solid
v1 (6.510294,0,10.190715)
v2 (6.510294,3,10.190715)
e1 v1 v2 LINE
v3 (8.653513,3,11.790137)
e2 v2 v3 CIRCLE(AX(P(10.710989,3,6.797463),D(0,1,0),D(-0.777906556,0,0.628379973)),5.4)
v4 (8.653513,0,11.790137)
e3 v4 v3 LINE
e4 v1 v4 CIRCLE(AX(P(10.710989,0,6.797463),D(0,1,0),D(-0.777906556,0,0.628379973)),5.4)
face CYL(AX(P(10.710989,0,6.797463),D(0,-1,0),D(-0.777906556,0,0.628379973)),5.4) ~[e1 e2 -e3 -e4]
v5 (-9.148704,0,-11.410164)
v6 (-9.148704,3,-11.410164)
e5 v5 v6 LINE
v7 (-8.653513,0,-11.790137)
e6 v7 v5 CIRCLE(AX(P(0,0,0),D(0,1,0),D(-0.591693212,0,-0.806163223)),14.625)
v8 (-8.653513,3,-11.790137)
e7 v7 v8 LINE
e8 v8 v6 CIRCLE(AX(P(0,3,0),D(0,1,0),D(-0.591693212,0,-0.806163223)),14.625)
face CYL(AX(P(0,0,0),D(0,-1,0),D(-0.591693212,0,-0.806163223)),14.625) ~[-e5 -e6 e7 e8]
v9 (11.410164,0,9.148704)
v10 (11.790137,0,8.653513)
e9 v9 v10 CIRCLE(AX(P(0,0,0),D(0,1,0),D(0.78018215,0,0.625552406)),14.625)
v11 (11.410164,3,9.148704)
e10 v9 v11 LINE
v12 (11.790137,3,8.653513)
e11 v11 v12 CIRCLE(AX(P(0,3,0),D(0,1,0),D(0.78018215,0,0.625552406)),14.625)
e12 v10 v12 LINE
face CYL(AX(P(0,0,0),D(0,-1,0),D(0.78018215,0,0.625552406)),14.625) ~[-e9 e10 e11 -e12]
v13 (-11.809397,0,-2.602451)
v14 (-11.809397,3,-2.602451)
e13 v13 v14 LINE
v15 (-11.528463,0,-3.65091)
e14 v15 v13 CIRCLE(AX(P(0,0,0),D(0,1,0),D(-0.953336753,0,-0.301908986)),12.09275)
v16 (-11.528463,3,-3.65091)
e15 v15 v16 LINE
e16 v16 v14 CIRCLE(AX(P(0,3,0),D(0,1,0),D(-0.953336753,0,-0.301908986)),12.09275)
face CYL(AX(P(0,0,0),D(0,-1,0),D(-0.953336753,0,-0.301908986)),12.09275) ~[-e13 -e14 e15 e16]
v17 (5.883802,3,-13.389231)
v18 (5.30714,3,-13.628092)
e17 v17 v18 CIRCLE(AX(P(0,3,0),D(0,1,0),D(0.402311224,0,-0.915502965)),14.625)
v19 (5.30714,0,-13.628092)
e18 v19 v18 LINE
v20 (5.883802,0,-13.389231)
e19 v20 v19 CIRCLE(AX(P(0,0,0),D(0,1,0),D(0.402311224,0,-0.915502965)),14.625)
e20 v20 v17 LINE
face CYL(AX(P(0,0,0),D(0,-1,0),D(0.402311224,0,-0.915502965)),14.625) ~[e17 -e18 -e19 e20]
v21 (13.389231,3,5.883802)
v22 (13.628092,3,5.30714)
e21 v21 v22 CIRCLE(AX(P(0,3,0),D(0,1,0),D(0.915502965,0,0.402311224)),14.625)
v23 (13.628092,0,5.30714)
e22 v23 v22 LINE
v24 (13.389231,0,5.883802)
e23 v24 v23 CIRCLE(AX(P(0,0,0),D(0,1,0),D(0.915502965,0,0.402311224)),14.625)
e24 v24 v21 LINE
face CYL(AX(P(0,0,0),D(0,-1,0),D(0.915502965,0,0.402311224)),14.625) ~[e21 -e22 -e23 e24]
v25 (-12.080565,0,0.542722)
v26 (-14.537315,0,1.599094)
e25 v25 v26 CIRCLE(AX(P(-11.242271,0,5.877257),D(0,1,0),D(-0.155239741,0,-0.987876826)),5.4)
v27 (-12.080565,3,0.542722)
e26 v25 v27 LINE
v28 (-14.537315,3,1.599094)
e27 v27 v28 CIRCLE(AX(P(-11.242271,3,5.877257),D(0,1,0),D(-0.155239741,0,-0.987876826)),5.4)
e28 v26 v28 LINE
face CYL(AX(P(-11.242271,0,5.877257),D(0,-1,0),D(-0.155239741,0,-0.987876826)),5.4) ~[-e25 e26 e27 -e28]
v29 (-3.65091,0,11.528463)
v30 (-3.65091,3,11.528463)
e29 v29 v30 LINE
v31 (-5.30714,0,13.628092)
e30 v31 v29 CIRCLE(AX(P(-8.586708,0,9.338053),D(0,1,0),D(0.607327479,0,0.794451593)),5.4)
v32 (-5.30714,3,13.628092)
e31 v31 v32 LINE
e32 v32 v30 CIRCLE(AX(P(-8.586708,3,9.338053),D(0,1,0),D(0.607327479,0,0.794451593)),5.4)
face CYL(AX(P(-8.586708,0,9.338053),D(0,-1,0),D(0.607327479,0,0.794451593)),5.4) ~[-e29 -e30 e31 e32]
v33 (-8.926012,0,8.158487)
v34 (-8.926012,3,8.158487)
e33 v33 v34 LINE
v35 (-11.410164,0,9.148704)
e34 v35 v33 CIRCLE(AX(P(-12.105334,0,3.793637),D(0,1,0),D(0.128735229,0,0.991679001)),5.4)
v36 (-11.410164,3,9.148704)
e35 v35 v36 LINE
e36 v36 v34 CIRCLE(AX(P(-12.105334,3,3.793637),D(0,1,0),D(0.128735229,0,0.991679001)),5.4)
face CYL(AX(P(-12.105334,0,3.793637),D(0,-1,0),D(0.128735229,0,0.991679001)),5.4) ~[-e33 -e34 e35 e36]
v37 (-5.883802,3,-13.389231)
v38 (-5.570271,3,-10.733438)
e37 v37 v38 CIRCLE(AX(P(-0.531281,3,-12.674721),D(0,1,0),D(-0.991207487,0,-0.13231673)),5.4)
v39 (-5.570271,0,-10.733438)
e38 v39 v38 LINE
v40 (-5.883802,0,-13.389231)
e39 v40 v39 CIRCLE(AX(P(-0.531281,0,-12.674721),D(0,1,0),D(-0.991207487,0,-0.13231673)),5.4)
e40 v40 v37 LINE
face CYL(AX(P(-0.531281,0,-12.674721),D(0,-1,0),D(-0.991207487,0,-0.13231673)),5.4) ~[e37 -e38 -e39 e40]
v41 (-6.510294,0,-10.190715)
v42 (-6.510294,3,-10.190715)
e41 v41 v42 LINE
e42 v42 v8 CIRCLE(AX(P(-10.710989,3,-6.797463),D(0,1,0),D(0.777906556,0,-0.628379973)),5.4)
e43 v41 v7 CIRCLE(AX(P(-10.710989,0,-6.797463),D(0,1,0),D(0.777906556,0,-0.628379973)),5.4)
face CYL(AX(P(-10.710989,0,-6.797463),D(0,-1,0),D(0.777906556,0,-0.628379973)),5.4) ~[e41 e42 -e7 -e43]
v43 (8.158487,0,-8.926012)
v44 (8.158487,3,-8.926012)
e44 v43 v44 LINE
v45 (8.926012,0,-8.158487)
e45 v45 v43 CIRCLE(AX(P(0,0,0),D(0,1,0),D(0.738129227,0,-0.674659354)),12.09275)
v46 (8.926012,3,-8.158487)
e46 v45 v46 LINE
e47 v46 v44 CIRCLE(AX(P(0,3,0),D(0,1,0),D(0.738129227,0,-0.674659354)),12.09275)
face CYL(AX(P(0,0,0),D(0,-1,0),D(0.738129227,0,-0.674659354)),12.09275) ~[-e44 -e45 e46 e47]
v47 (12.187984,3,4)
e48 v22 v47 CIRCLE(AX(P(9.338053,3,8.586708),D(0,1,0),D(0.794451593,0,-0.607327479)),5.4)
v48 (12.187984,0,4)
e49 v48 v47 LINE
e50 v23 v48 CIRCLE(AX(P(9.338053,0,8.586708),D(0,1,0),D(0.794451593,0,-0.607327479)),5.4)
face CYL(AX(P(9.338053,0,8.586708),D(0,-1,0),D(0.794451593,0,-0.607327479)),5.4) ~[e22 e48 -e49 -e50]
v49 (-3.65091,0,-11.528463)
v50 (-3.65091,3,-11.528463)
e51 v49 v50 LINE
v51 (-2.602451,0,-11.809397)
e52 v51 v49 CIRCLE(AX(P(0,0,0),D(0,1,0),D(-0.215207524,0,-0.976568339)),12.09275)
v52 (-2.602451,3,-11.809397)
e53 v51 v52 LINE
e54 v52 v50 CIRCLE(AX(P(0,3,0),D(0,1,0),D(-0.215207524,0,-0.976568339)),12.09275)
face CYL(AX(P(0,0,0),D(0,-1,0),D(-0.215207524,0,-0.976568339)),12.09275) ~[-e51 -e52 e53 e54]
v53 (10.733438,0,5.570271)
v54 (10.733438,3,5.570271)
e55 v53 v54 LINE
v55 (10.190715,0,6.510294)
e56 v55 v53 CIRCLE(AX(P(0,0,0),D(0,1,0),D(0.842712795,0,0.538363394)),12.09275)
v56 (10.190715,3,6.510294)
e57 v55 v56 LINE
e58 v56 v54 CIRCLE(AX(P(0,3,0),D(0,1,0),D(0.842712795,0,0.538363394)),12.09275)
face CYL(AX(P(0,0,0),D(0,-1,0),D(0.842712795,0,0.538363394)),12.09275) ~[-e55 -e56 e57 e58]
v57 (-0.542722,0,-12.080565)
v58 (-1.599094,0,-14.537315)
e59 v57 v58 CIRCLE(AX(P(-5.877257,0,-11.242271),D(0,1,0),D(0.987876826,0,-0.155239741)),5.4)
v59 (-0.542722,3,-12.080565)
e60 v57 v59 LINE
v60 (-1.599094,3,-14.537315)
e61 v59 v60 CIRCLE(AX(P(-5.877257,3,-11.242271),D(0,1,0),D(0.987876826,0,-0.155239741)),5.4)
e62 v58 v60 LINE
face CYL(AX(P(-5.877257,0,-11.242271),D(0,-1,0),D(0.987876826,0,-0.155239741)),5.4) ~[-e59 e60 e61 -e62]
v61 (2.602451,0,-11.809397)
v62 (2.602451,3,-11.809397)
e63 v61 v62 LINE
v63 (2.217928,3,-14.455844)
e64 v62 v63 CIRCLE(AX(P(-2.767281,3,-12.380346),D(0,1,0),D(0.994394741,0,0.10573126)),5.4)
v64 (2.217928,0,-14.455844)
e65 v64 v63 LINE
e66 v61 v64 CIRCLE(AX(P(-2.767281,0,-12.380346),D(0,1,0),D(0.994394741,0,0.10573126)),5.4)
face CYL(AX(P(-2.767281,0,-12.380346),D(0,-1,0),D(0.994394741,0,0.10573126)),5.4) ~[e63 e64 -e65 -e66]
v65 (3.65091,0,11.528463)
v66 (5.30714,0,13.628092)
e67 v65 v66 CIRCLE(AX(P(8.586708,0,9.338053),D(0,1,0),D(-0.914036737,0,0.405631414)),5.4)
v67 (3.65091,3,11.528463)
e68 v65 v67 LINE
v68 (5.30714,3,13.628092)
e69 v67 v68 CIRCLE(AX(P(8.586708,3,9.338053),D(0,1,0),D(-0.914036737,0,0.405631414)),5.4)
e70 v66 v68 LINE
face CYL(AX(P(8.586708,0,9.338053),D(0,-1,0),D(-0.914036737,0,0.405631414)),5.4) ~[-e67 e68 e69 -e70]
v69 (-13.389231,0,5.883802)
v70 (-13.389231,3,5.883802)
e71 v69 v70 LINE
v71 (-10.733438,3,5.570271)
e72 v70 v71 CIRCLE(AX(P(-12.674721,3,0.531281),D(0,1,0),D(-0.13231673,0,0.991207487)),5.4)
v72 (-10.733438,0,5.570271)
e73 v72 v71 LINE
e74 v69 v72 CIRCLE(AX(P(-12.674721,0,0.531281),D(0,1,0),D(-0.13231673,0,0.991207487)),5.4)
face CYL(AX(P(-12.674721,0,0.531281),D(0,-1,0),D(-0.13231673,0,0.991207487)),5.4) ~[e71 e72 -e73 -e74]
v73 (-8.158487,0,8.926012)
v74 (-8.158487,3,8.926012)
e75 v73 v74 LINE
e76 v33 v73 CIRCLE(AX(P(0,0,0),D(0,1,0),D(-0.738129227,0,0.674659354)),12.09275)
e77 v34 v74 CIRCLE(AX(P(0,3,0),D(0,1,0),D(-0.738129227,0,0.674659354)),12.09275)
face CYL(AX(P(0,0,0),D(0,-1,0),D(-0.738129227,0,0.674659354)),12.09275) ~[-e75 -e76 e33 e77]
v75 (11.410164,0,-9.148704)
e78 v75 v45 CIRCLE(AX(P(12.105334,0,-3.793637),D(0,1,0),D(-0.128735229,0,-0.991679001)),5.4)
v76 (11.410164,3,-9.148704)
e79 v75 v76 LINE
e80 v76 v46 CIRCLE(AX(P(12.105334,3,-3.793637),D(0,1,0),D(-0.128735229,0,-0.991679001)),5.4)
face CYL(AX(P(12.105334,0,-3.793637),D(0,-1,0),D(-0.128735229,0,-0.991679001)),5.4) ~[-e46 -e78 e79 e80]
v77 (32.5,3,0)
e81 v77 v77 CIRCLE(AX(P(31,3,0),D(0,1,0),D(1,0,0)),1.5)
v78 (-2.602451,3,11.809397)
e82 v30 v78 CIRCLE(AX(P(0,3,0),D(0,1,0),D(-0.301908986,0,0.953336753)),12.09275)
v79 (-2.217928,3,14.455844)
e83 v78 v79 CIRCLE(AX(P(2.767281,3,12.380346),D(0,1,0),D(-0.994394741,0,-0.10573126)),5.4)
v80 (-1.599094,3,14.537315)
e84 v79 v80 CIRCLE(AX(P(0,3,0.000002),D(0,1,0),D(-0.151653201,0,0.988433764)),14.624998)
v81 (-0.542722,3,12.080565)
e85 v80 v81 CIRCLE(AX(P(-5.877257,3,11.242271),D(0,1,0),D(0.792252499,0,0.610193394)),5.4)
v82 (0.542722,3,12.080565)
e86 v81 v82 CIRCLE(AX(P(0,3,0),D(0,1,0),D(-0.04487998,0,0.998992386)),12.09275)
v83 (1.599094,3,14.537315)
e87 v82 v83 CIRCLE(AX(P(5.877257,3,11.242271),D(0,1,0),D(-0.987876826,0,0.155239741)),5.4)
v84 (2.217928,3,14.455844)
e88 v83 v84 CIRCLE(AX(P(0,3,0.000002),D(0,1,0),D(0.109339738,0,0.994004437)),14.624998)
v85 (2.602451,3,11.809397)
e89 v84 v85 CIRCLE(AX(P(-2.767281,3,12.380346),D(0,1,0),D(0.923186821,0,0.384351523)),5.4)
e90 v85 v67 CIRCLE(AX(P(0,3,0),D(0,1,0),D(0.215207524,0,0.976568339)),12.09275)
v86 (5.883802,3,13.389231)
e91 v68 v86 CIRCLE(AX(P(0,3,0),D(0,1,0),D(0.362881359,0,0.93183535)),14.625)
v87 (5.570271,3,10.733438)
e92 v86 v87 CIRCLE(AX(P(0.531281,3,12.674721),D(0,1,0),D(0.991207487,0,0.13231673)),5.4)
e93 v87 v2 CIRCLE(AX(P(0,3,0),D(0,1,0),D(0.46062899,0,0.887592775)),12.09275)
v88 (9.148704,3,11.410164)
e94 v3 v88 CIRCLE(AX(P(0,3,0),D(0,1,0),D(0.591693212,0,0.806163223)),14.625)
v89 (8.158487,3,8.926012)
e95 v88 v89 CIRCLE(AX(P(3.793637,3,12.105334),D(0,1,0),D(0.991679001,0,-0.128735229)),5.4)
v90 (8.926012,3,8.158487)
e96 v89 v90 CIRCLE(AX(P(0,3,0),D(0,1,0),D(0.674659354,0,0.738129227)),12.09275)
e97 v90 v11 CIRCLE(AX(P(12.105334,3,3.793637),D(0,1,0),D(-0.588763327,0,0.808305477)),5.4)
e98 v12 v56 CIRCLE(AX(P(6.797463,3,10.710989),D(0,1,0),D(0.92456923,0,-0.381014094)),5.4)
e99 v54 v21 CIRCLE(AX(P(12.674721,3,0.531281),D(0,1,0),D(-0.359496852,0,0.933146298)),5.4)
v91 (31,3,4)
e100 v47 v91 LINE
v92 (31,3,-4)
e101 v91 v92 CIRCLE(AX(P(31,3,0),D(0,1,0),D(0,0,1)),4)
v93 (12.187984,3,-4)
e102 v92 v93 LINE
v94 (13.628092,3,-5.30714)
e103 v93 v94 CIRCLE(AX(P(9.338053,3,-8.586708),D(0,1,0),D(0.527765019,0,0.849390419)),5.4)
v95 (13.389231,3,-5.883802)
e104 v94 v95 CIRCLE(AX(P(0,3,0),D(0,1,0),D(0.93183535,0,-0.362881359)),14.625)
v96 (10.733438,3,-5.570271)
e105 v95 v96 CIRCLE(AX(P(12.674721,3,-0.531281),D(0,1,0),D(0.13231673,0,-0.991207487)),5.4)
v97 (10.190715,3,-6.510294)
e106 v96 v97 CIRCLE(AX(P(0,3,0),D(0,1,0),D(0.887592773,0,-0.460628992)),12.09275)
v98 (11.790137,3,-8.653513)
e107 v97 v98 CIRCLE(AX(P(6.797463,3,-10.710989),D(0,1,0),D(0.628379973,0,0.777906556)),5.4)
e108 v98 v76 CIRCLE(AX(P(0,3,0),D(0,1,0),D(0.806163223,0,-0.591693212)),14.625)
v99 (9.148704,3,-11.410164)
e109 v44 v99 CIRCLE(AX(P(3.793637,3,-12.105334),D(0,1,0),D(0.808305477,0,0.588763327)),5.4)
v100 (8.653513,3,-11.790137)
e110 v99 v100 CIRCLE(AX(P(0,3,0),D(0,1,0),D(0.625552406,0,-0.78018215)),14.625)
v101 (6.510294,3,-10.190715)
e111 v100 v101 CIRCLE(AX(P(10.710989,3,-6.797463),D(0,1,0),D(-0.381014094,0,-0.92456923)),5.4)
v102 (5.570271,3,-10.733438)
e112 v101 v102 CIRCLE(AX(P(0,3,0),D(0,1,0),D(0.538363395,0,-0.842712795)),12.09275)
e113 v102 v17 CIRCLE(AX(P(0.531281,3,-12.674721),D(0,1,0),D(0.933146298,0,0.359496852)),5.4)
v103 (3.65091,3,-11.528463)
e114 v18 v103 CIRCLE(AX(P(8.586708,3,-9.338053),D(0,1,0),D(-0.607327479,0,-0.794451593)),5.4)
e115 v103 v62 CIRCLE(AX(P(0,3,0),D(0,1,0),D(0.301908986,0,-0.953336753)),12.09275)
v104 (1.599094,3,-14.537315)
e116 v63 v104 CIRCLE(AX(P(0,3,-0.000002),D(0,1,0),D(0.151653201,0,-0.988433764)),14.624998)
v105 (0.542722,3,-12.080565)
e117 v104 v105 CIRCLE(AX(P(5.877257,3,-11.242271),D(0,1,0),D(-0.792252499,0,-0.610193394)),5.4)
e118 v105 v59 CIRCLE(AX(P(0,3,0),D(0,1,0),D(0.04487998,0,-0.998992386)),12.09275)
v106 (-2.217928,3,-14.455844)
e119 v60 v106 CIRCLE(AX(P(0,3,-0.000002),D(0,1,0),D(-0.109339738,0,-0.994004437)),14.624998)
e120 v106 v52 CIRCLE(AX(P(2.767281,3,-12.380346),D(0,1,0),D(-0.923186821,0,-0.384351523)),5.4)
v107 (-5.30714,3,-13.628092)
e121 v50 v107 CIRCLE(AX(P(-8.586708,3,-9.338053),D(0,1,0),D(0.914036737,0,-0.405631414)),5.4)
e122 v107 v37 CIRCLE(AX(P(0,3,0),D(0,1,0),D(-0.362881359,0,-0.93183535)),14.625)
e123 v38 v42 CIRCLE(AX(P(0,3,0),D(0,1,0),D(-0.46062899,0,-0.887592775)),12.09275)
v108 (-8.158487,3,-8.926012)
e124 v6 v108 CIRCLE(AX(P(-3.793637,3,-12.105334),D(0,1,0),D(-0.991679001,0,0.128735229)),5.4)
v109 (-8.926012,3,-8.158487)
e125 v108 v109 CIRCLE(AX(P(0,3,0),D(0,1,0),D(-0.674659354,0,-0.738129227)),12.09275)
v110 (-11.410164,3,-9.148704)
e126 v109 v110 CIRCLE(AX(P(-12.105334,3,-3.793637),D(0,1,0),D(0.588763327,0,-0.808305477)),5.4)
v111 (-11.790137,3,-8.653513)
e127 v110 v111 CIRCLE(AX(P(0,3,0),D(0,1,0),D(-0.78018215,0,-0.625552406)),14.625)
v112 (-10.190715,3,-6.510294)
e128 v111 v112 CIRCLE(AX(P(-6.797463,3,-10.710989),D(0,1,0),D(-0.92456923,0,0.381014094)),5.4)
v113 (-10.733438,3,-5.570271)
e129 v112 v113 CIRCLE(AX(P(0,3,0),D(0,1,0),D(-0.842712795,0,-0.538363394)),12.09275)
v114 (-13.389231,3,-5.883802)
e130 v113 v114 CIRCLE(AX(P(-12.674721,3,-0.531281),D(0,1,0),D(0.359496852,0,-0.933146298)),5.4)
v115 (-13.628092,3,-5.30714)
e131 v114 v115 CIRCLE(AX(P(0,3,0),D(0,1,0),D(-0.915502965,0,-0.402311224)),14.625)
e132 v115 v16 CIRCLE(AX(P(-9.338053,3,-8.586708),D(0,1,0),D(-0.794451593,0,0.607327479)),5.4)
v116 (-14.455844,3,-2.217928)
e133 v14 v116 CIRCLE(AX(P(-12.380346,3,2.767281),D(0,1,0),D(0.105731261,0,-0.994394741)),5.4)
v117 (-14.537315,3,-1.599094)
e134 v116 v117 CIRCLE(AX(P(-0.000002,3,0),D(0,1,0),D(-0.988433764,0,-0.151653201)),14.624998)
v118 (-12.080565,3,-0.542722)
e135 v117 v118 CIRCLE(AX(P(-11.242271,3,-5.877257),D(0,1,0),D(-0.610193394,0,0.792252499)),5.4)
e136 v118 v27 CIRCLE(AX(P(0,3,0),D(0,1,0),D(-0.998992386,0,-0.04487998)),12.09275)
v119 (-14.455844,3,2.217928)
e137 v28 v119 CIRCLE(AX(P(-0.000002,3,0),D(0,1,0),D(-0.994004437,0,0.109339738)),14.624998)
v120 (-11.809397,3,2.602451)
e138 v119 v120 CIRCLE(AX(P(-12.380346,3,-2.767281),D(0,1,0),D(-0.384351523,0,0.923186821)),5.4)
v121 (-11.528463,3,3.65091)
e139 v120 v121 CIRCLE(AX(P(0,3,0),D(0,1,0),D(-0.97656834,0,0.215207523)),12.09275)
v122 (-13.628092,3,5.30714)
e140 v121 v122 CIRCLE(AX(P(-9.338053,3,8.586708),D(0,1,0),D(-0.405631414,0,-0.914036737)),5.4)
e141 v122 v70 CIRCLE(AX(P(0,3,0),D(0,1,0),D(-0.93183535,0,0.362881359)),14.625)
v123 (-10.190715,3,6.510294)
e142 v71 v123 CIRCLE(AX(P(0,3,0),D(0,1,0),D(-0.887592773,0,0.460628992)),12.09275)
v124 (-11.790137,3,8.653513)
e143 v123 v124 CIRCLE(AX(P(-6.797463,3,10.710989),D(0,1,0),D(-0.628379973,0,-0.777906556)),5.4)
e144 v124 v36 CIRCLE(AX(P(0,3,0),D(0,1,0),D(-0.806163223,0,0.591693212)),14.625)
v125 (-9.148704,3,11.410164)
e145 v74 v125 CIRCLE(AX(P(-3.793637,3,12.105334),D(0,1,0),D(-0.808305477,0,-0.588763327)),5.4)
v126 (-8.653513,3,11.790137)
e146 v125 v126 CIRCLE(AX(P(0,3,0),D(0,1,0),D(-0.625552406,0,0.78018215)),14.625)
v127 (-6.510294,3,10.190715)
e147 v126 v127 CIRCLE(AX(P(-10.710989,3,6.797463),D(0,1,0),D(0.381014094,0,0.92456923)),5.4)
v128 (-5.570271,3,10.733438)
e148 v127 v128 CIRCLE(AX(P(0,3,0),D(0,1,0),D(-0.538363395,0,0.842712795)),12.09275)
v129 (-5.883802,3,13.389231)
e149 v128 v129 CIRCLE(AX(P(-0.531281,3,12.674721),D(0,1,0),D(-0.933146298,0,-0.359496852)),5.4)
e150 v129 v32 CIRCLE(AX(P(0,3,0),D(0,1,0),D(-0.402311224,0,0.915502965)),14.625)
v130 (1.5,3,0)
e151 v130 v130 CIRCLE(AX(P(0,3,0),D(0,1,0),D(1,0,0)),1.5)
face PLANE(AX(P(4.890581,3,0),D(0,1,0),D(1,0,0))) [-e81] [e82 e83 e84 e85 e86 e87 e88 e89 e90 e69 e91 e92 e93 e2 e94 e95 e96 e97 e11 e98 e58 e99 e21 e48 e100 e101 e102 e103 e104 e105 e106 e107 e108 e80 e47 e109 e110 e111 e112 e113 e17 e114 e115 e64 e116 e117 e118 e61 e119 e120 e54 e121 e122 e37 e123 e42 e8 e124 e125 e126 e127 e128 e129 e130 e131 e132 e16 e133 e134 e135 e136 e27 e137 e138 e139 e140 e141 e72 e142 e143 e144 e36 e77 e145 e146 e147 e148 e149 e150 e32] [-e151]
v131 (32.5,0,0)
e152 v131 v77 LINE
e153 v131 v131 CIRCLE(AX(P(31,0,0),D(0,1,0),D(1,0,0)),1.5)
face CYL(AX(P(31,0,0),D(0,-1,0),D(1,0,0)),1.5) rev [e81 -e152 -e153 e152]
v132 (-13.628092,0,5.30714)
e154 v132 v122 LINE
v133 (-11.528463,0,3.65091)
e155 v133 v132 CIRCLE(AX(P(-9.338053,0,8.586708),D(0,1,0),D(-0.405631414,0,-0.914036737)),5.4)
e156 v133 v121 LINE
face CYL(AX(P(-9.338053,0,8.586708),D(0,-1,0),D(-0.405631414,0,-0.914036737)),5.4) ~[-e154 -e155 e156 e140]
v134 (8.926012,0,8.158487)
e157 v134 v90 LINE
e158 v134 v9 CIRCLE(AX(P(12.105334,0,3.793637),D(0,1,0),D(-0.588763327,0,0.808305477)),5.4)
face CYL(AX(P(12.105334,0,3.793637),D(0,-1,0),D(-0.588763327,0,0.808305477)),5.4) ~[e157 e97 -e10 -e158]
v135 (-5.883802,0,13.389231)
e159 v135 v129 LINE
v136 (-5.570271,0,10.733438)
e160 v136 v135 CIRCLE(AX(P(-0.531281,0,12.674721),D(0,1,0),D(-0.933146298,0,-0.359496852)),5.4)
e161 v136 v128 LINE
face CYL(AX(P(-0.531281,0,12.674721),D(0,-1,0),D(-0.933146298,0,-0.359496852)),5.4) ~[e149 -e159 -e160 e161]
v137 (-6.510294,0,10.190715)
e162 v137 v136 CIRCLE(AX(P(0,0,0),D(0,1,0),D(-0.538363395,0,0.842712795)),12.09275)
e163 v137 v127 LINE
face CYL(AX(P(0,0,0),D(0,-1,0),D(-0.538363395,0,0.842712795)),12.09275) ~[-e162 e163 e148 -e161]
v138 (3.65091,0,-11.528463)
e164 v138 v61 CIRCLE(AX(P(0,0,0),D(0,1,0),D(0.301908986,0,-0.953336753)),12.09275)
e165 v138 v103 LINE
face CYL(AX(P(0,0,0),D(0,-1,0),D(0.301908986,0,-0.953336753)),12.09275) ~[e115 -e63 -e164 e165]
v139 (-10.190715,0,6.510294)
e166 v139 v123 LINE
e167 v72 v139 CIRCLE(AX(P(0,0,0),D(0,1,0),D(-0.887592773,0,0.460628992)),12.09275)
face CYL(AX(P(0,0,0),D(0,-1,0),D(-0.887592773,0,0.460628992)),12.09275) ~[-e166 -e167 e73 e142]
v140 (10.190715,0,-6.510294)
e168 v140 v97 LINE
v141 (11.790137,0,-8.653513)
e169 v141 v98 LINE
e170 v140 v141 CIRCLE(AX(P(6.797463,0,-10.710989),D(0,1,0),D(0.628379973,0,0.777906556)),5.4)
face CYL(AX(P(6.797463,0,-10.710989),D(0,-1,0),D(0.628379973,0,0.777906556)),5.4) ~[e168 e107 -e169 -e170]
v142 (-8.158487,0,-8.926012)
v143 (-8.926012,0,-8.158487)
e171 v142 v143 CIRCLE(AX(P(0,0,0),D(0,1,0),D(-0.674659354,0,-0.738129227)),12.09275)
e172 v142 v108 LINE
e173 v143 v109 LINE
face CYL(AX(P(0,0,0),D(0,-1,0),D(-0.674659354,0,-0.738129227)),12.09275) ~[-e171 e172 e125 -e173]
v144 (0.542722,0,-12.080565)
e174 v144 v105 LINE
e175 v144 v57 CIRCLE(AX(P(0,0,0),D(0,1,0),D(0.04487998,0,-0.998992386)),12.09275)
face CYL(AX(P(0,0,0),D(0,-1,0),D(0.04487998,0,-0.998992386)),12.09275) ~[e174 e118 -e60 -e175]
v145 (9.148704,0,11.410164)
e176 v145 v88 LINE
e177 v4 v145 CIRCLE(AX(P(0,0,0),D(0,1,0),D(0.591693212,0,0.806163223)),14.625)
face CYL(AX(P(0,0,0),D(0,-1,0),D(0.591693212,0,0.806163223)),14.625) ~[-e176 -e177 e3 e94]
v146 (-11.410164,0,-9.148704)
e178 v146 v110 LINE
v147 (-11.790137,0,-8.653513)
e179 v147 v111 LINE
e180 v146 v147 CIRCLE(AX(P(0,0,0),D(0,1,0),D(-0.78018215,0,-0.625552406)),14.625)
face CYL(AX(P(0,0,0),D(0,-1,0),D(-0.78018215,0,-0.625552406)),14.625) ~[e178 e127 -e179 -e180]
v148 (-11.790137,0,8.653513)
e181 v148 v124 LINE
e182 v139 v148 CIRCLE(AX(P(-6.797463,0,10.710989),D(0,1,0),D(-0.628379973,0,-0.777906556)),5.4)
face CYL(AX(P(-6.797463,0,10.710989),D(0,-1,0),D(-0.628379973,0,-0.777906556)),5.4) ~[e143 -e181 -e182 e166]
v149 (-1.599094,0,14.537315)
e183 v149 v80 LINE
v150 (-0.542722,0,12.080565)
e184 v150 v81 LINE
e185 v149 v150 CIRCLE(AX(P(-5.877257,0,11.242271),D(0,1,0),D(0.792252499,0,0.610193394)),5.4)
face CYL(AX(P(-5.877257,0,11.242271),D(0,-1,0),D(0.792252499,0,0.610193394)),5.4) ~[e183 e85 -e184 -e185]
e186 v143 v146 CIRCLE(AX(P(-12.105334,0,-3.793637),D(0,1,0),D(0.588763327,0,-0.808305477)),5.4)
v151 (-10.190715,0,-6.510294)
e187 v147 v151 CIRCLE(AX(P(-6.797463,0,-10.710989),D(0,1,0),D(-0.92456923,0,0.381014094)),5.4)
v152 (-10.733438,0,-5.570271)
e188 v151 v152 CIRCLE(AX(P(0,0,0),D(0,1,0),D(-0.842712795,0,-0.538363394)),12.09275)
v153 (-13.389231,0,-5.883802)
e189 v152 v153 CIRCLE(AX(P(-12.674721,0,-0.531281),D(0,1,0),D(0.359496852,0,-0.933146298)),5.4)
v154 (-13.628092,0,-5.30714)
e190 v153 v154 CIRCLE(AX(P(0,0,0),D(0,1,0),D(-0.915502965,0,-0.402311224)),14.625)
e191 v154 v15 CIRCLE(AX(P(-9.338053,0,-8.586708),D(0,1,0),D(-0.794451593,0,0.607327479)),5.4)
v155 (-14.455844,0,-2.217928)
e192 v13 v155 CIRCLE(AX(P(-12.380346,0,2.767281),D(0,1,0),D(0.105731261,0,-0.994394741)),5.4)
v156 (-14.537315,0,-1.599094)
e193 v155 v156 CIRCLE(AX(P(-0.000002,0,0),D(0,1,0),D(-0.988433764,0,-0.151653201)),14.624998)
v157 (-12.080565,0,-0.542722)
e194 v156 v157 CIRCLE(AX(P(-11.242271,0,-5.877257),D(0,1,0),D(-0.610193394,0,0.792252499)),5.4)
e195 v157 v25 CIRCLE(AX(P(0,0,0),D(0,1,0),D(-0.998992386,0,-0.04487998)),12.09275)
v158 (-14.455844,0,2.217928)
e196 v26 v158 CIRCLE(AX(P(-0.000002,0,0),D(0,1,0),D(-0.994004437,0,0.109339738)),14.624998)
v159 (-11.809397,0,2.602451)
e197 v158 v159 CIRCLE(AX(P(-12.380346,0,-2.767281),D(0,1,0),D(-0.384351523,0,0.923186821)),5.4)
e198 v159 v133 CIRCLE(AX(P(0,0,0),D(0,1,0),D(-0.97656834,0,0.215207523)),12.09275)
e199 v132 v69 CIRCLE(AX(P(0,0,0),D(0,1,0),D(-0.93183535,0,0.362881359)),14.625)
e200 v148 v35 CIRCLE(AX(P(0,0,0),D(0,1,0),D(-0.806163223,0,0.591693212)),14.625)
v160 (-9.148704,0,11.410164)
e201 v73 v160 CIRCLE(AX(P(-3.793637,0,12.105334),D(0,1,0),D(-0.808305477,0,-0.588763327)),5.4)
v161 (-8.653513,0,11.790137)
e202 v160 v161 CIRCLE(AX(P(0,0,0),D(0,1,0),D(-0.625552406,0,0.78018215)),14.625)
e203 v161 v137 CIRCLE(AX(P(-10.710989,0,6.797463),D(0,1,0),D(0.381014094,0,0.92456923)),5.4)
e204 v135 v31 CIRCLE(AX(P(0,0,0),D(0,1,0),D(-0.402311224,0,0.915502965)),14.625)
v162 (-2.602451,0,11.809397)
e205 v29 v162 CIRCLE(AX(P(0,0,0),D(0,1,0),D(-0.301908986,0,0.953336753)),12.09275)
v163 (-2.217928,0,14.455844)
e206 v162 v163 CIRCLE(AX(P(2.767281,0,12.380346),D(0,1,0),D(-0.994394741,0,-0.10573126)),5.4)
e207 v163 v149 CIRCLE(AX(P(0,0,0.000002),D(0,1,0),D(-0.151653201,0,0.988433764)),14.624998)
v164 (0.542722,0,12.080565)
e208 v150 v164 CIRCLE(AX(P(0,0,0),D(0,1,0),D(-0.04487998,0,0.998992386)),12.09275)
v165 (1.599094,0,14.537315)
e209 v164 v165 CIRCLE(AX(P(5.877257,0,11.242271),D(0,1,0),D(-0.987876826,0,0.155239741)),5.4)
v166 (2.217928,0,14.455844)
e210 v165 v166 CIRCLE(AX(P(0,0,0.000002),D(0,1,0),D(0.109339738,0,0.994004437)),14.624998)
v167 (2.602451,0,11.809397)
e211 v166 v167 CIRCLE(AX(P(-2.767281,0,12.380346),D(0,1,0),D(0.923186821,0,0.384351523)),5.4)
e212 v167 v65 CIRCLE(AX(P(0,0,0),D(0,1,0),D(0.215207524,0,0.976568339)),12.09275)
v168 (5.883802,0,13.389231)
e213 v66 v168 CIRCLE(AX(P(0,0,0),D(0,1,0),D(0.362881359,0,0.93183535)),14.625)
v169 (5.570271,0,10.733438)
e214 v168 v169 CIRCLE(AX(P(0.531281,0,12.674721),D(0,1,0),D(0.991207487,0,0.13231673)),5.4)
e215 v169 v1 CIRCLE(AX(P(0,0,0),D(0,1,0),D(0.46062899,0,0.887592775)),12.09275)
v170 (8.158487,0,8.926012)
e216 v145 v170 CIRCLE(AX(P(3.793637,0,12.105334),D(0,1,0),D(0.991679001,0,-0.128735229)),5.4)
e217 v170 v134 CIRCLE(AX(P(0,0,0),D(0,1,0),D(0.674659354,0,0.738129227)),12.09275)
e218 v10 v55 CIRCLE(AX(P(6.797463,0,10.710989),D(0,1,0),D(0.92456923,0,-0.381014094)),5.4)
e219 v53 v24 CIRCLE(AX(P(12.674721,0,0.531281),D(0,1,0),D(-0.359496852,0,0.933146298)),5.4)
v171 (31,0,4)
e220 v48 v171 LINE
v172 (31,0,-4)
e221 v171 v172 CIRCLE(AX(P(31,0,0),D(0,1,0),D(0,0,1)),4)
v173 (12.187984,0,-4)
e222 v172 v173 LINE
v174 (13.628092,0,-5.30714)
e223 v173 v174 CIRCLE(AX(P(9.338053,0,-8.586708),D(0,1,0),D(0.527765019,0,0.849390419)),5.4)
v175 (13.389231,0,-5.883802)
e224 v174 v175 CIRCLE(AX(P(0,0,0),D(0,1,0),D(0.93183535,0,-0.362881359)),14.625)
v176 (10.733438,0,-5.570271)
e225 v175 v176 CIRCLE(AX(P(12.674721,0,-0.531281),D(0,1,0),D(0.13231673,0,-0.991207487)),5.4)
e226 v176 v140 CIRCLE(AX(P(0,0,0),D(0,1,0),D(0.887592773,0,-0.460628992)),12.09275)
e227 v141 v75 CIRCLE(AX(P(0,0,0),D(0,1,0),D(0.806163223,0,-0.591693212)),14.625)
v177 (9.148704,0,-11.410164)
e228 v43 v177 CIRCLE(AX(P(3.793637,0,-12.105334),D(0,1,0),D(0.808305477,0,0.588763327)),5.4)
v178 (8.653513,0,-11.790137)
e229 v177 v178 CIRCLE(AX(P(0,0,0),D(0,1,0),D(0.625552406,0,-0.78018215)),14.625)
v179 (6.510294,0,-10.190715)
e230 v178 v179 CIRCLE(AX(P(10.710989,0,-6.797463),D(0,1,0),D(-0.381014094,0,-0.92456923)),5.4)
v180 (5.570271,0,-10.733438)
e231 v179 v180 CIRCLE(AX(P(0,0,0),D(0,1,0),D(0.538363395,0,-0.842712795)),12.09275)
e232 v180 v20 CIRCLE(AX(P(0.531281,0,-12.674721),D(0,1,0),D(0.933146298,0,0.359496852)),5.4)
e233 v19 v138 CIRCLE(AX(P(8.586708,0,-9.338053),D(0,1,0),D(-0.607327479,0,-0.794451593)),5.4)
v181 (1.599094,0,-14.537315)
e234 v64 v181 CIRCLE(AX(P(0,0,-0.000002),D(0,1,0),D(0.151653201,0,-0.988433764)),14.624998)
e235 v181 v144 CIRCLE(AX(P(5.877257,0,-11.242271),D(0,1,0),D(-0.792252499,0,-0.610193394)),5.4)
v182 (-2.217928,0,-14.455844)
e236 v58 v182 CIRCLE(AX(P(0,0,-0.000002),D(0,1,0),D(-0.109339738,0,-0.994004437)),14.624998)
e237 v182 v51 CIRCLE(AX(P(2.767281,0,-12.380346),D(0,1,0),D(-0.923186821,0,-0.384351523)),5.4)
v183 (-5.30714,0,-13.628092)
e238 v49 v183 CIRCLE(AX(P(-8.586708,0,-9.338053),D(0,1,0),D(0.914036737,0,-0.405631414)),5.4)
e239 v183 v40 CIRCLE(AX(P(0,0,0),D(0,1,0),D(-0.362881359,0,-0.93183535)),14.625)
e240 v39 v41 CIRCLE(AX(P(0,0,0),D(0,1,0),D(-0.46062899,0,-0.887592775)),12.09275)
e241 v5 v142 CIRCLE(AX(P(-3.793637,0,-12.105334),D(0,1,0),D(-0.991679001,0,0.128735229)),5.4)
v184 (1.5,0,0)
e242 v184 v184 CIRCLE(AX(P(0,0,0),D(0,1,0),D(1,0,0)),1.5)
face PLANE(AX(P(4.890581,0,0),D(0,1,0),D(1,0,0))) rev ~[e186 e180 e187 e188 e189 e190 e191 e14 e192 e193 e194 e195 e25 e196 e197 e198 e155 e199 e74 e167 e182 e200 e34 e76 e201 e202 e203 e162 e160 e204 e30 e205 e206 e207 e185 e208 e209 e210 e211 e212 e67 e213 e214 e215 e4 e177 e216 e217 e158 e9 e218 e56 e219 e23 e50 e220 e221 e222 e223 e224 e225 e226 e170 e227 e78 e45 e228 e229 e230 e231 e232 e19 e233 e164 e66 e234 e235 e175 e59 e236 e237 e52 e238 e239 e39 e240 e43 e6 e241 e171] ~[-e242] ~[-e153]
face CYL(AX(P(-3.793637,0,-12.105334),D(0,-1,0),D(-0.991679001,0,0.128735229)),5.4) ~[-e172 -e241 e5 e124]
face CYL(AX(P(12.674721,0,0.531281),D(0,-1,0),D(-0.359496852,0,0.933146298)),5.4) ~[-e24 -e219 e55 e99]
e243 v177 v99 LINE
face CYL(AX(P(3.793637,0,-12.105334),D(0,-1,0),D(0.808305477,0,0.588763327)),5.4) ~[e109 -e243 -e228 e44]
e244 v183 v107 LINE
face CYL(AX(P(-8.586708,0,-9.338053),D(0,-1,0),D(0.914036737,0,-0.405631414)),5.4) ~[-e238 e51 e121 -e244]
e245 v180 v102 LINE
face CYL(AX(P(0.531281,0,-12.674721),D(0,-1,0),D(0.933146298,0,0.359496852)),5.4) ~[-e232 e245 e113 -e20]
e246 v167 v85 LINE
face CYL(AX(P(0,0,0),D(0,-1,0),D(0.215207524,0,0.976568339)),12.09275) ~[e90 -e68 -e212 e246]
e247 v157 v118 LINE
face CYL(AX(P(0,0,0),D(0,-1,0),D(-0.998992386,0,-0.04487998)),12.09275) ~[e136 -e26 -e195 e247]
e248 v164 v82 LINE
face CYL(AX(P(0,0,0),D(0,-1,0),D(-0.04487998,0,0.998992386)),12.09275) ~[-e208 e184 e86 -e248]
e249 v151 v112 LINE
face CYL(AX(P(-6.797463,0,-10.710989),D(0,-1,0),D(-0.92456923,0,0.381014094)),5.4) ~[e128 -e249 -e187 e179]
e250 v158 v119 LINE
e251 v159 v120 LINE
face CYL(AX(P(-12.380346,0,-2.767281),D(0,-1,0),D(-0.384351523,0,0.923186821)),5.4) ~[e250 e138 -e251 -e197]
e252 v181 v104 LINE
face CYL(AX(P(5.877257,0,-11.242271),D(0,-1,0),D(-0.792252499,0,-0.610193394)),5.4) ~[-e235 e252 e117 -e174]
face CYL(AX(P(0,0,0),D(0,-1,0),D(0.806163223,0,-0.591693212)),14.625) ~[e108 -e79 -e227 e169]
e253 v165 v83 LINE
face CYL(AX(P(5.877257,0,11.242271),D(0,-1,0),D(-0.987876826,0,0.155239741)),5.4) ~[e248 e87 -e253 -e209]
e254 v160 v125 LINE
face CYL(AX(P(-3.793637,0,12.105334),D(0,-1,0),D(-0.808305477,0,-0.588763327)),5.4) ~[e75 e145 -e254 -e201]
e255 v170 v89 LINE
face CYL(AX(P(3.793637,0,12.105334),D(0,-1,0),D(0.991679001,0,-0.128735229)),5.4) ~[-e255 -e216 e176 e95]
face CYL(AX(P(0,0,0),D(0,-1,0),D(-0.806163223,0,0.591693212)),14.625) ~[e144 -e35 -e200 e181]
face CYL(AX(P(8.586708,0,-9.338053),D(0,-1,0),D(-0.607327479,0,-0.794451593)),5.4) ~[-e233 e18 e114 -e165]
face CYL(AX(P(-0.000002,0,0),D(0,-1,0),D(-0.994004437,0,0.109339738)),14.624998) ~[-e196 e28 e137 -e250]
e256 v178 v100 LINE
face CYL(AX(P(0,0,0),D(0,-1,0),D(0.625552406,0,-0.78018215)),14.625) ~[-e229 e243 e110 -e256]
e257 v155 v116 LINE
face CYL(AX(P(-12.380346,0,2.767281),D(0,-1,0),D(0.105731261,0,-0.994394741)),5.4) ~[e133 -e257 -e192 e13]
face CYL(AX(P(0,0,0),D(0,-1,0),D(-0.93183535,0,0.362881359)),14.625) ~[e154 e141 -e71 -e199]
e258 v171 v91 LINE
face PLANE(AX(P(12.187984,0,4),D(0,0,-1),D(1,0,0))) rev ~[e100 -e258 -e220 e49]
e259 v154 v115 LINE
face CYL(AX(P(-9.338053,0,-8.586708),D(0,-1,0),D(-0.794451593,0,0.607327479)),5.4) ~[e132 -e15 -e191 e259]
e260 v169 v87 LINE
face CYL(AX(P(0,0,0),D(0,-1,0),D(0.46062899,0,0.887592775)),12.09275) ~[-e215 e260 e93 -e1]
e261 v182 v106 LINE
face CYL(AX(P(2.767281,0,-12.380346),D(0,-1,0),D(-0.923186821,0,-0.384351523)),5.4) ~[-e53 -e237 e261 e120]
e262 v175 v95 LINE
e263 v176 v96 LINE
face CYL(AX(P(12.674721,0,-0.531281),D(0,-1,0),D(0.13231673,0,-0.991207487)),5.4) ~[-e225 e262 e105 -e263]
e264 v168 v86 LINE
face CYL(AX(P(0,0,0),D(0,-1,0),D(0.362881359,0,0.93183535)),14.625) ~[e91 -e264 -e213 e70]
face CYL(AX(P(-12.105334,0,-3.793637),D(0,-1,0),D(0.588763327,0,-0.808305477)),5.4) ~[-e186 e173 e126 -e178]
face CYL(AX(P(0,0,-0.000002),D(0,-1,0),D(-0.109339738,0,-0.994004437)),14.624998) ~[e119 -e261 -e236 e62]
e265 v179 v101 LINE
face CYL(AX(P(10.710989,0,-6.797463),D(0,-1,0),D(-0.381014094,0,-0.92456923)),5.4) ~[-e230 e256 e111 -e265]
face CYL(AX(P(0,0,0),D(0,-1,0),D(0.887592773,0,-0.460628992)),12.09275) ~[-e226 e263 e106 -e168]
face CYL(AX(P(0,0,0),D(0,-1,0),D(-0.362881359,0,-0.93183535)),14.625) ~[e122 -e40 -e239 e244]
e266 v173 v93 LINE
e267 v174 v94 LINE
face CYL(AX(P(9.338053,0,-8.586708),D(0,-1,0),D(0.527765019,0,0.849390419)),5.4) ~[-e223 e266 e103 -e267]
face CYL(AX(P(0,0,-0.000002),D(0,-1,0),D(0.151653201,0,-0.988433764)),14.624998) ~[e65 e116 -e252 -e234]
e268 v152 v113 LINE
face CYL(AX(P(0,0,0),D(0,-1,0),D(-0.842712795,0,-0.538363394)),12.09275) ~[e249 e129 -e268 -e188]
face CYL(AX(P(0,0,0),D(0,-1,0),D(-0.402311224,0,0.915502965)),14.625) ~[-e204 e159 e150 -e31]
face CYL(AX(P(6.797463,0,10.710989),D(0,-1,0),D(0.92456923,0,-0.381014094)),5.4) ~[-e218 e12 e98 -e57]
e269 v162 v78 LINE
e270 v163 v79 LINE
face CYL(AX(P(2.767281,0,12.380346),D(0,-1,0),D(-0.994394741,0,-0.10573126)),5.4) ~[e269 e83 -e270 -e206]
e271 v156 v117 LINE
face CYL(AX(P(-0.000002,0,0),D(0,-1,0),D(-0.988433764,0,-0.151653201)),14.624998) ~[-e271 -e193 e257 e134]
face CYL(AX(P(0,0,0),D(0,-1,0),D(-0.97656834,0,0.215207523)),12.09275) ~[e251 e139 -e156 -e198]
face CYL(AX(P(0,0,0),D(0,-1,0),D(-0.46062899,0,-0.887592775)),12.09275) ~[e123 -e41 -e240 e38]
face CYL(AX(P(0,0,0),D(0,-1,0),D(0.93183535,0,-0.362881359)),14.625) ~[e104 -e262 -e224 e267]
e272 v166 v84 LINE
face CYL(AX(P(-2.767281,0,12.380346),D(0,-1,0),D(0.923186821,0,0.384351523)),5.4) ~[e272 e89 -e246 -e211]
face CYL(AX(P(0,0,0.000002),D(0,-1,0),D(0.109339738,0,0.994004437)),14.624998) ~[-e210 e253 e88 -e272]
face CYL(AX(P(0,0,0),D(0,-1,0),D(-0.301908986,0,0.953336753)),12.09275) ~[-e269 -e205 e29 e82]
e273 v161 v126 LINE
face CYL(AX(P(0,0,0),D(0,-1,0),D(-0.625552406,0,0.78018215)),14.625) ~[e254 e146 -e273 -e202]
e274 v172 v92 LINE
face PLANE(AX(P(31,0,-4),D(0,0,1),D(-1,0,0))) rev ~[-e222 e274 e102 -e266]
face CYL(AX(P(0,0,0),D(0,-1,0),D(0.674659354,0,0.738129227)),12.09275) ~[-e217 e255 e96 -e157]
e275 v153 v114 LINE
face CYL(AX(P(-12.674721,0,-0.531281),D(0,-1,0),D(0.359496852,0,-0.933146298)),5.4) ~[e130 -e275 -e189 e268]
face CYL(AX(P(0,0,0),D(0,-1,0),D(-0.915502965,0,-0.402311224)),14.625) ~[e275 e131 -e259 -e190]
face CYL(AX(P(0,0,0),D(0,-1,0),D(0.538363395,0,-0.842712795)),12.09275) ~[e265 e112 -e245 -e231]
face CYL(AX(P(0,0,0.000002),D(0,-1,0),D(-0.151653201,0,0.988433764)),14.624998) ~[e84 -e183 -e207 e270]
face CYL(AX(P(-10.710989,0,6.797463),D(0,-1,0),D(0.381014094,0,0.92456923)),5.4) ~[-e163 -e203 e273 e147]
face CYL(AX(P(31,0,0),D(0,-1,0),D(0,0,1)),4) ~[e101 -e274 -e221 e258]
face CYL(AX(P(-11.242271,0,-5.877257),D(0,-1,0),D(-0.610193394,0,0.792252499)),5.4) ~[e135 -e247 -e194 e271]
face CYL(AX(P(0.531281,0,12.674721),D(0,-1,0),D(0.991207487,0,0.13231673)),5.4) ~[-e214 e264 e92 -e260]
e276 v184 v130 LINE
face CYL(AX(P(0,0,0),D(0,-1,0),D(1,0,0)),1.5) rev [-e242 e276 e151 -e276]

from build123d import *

# Parameters (mm, degrees)
SKETCH1_R           = 1.5
BOSS_EXTRUDE2_DEPTH = 3


with BuildPart() as part:
    # Sketch1 → Boss-Extrude2 (new body)
    with BuildSketch(Plane(origin=(0, 0, 0), x_dir=(1, 0, 0), z_dir=(0, 1, 0))):
        with BuildLine():
            Line((12.18798449, -4), (31, -4))
            ThreePointArc((31, -4), (35, 0), (31, 4))
            Line((31, 4), (12.18798449, 4))
            ThreePointArc((12.18798449, 4), (12.967370887, 4.588201733), (13.62809199, 5.30713988))
            ThreePointArc((13.62809199, 5.30713988), (13.511738163, 5.596745198), (13.389230859, 5.883801663))
            ThreePointArc((13.389230859, 5.883801663), (12.041618533, 5.894040025), (10.733437515, 5.57027124))
            ThreePointArc((10.733437515, 5.57027124), (10.472628702, 6.046375), (10.190715157, 6.510293938))
            ThreePointArc((10.190715157, 6.510293938), (11.125197659, 7.48132754), (11.79013714, 8.65351323))
            ThreePointArc((11.79013714, 8.65351323), (11.602792602, 8.903135899), (11.410163953, 9.148703928))
            ThreePointArc((11.410163953, 9.148703928), (10.105820521, 8.809805691), (8.926012217, 8.158486898))
            ThreePointArc((8.926012217, 8.158486898), (8.550865528, 8.550865528), (8.158486898, 8.926012217))
            ThreePointArc((8.158486898, 8.926012217), (8.809805691, 10.105820521), (9.148703928, 11.410163953))
            ThreePointArc((9.148703928, 11.410163953), (8.903135899, 11.602792602), (8.65351323, 11.79013714))
            ThreePointArc((8.65351323, 11.79013714), (7.48132754, 11.125197659), (6.510293938, 10.190715157))
            ThreePointArc((6.510293938, 10.190715157), (6.046375, 10.472628702), (5.57027124, 10.733437514))
            ThreePointArc((5.57027124, 10.733437514), (5.894040025, 12.041618533), (5.883801663, 13.389230859))
            ThreePointArc((5.883801663, 13.389230859), (5.596745198, 13.511738163), (5.30713988, 13.62809199))
            ThreePointArc((5.30713988, 13.62809199), (4.346994451, 12.682425791), (3.650909885, 11.528463019))
            ThreePointArc((3.650909885, 11.528463019), (3.129834008, 11.680699536), (2.602450802, 11.809396783))
            ThreePointArc((2.602450802, 11.809396783), (2.576605271, 13.156800143), (2.217928037, 14.455843809))
            ThreePointArc((2.217928037, 14.455843809), (1.908945561, 14.499881098), (1.599093719, 14.537314892))
            ThreePointArc((1.599093719, 14.537314892), (0.916420874, 13.375367565), (0.542722358, 12.080565177))
            ThreePointArc((0.542722358, 12.080565177), (0, 12.09275), (-0.542722358, 12.080565177))
            ThreePointArc((-0.542722358, 12.080565177), (-0.916420874, 13.375367565), (-1.599093719, 14.537314892))
            ThreePointArc((-1.599093719, 14.537314892), (-1.908945561, 14.499881098), (-2.217928037, 14.455843809))
            ThreePointArc((-2.217928037, 14.455843809), (-2.576605271, 13.156800143), (-2.602450802, 11.809396783))
            ThreePointArc((-2.602450802, 11.809396783), (-3.129834008, 11.680699536), (-3.650909885, 11.528463019))
            ThreePointArc((-3.650909885, 11.528463019), (-4.346994451, 12.682425791), (-5.30713988, 13.62809199))
            ThreePointArc((-5.30713988, 13.62809199), (-5.596745198, 13.511738163), (-5.883801663, 13.389230859))
            ThreePointArc((-5.883801663, 13.389230859), (-5.894040025, 12.041618533), (-5.57027124, 10.733437514))
            ThreePointArc((-5.57027124, 10.733437514), (-6.046375, 10.472628702), (-6.510293938, 10.190715157))
            ThreePointArc((-6.510293938, 10.190715157), (-7.48132754, 11.125197659), (-8.65351323, 11.79013714))
            ThreePointArc((-8.65351323, 11.79013714), (-8.903135899, 11.602792602), (-9.148703928, 11.410163953))
            ThreePointArc((-9.148703928, 11.410163953), (-8.809805691, 10.105820521), (-8.158486898, 8.926012217))
            ThreePointArc((-8.158486898, 8.926012217), (-8.550865528, 8.550865528), (-8.926012217, 8.158486898))
            ThreePointArc((-8.926012217, 8.158486898), (-10.105820521, 8.809805691), (-11.410163953, 9.148703928))
            ThreePointArc((-11.410163953, 9.148703928), (-11.602792602, 8.903135899), (-11.79013714, 8.65351323))
            ThreePointArc((-11.79013714, 8.65351323), (-11.125197659, 7.48132754), (-10.190715157, 6.510293938))
            ThreePointArc((-10.190715157, 6.510293938), (-10.472628702, 6.046375), (-10.733437515, 5.57027124))
            ThreePointArc((-10.733437515, 5.57027124), (-12.041618533, 5.894040025), (-13.389230859, 5.883801663))
            ThreePointArc((-13.389230859, 5.883801663), (-13.511738163, 5.596745198), (-13.62809199, 5.30713988))
            ThreePointArc((-13.62809199, 5.30713988), (-12.682425791, 4.346994451), (-11.528463019, 3.650909885))
            ThreePointArc((-11.528463019, 3.650909885), (-11.680699536, 3.129834008), (-11.809396783, 2.602450801))
            ThreePointArc((-11.809396783, 2.602450801), (-13.156800143, 2.576605271), (-14.455843809, 2.217928037))
            ThreePointArc((-14.455843809, 2.217928037), (-14.499881098, 1.908945561), (-14.537314892, 1.599093719))
            ThreePointArc((-14.537314892, 1.599093719), (-13.375367565, 0.916420874), (-12.080565177, 0.542722358))
            ThreePointArc((-12.080565177, 0.542722358), (-12.09275, 0), (-12.080565177, -0.542722358))
            ThreePointArc((-12.080565177, -0.542722358), (-13.375367565, -0.916420874), (-14.537314892, -1.599093719))
            ThreePointArc((-14.537314892, -1.599093719), (-14.499881098, -1.908945561), (-14.455843809, -2.217928037))
            ThreePointArc((-14.455843809, -2.217928037), (-13.156800143, -2.576605271), (-11.809396783, -2.602450801))
            ThreePointArc((-11.809396783, -2.602450801), (-11.680699536, -3.129834008), (-11.528463019, -3.650909885))
            ThreePointArc((-11.528463019, -3.650909885), (-12.682425791, -4.346994451), (-13.62809199, -5.30713988))
            ThreePointArc((-13.62809199, -5.30713988), (-13.511738163, -5.596745198), (-13.389230859, -5.883801663))
            ThreePointArc((-13.389230859, -5.883801663), (-12.041618533, -5.894040025), (-10.733437515, -5.57027124))
            ThreePointArc((-10.733437515, -5.57027124), (-10.472628702, -6.046375), (-10.190715157, -6.510293938))
            ThreePointArc((-10.190715157, -6.510293938), (-11.125197659, -7.48132754), (-11.79013714, -8.65351323))
            ThreePointArc((-11.79013714, -8.65351323), (-11.602792602, -8.903135899), (-11.410163953, -9.148703928))
            ThreePointArc((-11.410163953, -9.148703928), (-10.105820521, -8.809805691), (-8.926012217, -8.158486898))
            ThreePointArc((-8.926012217, -8.158486898), (-8.550865528, -8.550865528), (-8.158486898, -8.926012217))
            ThreePointArc((-8.158486898, -8.926012217), (-8.809805691, -10.105820521), (-9.148703928, -11.410163953))
            ThreePointArc((-9.148703928, -11.410163953), (-8.903135899, -11.602792602), (-8.65351323, -11.79013714))
            ThreePointArc((-8.65351323, -11.79013714), (-7.48132754, -11.125197659), (-6.510293938, -10.190715157))
            ThreePointArc((-6.510293938, -10.190715157), (-6.046375, -10.472628702), (-5.57027124, -10.733437514))
            ThreePointArc((-5.57027124, -10.733437514), (-5.894040025, -12.041618533), (-5.883801663, -13.389230859))
            ThreePointArc((-5.883801663, -13.389230859), (-5.596745198, -13.511738163), (-5.30713988, -13.62809199))
            ThreePointArc((-5.30713988, -13.62809199), (-4.346994451, -12.682425791), (-3.650909885, -11.528463019))
            ThreePointArc((-3.650909885, -11.528463019), (-3.129834008, -11.680699536), (-2.602450802, -11.809396783))
            ThreePointArc((-2.602450802, -11.809396783), (-2.576605271, -13.156800143), (-2.217928037, -14.455843809))
            ThreePointArc((-2.217928037, -14.455843809), (-1.908945561, -14.499881098), (-1.599093719, -14.537314892))
            ThreePointArc((-1.599093719, -14.537314892), (-0.916420874, -13.375367565), (-0.542722358, -12.080565177))
            ThreePointArc((-0.542722358, -12.080565177), (0, -12.09275), (0.542722358, -12.080565177))
            ThreePointArc((0.542722358, -12.080565177), (0.916420874, -13.375367565), (1.599093719, -14.537314892))
            ThreePointArc((1.599093719, -14.537314892), (1.908945561, -14.499881098), (2.217928037, -14.455843809))
            ThreePointArc((2.217928037, -14.455843809), (2.576605271, -13.156800143), (2.602450802, -11.809396783))
            ThreePointArc((2.602450802, -11.809396783), (3.129834008, -11.680699536), (3.650909885, -11.528463019))
            ThreePointArc((3.650909885, -11.528463019), (4.346994451, -12.682425791), (5.30713988, -13.62809199))
            ThreePointArc((5.30713988, -13.62809199), (5.596745198, -13.511738163), (5.883801663, -13.389230859))
            ThreePointArc((5.883801663, -13.389230859), (5.894040025, -12.041618533), (5.57027124, -10.733437514))
            ThreePointArc((5.57027124, -10.733437514), (6.046375, -10.472628702), (6.510293938, -10.190715157))
            ThreePointArc((6.510293938, -10.190715157), (7.48132754, -11.125197659), (8.65351323, -11.79013714))
            ThreePointArc((8.65351323, -11.79013714), (8.903135899, -11.602792602), (9.148703928, -11.410163953))
            ThreePointArc((9.148703928, -11.410163953), (8.809805691, -10.105820521), (8.158486898, -8.926012217))
            ThreePointArc((8.158486898, -8.926012217), (8.550865528, -8.550865528), (8.926012217, -8.158486898))
            ThreePointArc((8.926012217, -8.158486898), (10.105820521, -8.809805691), (11.410163953, -9.148703928))
            ThreePointArc((11.410163953, -9.148703928), (11.602792602, -8.903135899), (11.79013714, -8.65351323))
            ThreePointArc((11.79013714, -8.65351323), (11.125197659, -7.48132754), (10.190715157, -6.510293938))
            ThreePointArc((10.190715157, -6.510293938), (10.472628702, -6.046375), (10.733437515, -5.57027124))
            ThreePointArc((10.733437515, -5.57027124), (12.041618533, -5.894040025), (13.389230859, -5.883801663))
            ThreePointArc((13.389230859, -5.883801663), (13.511738163, -5.596745198), (13.62809199, -5.30713988))
            ThreePointArc((13.62809199, -5.30713988), (12.967370887, -4.588201733), (12.18798449, -4))
        make_face()
        with Locations((31, 0)):
            Circle(SKETCH1_R, mode=Mode.SUBTRACT)
        Circle(SKETCH1_R, mode=Mode.SUBTRACT)
    extrude(amount=BOSS_EXTRUDE2_DEPTH)


solid = part.part
